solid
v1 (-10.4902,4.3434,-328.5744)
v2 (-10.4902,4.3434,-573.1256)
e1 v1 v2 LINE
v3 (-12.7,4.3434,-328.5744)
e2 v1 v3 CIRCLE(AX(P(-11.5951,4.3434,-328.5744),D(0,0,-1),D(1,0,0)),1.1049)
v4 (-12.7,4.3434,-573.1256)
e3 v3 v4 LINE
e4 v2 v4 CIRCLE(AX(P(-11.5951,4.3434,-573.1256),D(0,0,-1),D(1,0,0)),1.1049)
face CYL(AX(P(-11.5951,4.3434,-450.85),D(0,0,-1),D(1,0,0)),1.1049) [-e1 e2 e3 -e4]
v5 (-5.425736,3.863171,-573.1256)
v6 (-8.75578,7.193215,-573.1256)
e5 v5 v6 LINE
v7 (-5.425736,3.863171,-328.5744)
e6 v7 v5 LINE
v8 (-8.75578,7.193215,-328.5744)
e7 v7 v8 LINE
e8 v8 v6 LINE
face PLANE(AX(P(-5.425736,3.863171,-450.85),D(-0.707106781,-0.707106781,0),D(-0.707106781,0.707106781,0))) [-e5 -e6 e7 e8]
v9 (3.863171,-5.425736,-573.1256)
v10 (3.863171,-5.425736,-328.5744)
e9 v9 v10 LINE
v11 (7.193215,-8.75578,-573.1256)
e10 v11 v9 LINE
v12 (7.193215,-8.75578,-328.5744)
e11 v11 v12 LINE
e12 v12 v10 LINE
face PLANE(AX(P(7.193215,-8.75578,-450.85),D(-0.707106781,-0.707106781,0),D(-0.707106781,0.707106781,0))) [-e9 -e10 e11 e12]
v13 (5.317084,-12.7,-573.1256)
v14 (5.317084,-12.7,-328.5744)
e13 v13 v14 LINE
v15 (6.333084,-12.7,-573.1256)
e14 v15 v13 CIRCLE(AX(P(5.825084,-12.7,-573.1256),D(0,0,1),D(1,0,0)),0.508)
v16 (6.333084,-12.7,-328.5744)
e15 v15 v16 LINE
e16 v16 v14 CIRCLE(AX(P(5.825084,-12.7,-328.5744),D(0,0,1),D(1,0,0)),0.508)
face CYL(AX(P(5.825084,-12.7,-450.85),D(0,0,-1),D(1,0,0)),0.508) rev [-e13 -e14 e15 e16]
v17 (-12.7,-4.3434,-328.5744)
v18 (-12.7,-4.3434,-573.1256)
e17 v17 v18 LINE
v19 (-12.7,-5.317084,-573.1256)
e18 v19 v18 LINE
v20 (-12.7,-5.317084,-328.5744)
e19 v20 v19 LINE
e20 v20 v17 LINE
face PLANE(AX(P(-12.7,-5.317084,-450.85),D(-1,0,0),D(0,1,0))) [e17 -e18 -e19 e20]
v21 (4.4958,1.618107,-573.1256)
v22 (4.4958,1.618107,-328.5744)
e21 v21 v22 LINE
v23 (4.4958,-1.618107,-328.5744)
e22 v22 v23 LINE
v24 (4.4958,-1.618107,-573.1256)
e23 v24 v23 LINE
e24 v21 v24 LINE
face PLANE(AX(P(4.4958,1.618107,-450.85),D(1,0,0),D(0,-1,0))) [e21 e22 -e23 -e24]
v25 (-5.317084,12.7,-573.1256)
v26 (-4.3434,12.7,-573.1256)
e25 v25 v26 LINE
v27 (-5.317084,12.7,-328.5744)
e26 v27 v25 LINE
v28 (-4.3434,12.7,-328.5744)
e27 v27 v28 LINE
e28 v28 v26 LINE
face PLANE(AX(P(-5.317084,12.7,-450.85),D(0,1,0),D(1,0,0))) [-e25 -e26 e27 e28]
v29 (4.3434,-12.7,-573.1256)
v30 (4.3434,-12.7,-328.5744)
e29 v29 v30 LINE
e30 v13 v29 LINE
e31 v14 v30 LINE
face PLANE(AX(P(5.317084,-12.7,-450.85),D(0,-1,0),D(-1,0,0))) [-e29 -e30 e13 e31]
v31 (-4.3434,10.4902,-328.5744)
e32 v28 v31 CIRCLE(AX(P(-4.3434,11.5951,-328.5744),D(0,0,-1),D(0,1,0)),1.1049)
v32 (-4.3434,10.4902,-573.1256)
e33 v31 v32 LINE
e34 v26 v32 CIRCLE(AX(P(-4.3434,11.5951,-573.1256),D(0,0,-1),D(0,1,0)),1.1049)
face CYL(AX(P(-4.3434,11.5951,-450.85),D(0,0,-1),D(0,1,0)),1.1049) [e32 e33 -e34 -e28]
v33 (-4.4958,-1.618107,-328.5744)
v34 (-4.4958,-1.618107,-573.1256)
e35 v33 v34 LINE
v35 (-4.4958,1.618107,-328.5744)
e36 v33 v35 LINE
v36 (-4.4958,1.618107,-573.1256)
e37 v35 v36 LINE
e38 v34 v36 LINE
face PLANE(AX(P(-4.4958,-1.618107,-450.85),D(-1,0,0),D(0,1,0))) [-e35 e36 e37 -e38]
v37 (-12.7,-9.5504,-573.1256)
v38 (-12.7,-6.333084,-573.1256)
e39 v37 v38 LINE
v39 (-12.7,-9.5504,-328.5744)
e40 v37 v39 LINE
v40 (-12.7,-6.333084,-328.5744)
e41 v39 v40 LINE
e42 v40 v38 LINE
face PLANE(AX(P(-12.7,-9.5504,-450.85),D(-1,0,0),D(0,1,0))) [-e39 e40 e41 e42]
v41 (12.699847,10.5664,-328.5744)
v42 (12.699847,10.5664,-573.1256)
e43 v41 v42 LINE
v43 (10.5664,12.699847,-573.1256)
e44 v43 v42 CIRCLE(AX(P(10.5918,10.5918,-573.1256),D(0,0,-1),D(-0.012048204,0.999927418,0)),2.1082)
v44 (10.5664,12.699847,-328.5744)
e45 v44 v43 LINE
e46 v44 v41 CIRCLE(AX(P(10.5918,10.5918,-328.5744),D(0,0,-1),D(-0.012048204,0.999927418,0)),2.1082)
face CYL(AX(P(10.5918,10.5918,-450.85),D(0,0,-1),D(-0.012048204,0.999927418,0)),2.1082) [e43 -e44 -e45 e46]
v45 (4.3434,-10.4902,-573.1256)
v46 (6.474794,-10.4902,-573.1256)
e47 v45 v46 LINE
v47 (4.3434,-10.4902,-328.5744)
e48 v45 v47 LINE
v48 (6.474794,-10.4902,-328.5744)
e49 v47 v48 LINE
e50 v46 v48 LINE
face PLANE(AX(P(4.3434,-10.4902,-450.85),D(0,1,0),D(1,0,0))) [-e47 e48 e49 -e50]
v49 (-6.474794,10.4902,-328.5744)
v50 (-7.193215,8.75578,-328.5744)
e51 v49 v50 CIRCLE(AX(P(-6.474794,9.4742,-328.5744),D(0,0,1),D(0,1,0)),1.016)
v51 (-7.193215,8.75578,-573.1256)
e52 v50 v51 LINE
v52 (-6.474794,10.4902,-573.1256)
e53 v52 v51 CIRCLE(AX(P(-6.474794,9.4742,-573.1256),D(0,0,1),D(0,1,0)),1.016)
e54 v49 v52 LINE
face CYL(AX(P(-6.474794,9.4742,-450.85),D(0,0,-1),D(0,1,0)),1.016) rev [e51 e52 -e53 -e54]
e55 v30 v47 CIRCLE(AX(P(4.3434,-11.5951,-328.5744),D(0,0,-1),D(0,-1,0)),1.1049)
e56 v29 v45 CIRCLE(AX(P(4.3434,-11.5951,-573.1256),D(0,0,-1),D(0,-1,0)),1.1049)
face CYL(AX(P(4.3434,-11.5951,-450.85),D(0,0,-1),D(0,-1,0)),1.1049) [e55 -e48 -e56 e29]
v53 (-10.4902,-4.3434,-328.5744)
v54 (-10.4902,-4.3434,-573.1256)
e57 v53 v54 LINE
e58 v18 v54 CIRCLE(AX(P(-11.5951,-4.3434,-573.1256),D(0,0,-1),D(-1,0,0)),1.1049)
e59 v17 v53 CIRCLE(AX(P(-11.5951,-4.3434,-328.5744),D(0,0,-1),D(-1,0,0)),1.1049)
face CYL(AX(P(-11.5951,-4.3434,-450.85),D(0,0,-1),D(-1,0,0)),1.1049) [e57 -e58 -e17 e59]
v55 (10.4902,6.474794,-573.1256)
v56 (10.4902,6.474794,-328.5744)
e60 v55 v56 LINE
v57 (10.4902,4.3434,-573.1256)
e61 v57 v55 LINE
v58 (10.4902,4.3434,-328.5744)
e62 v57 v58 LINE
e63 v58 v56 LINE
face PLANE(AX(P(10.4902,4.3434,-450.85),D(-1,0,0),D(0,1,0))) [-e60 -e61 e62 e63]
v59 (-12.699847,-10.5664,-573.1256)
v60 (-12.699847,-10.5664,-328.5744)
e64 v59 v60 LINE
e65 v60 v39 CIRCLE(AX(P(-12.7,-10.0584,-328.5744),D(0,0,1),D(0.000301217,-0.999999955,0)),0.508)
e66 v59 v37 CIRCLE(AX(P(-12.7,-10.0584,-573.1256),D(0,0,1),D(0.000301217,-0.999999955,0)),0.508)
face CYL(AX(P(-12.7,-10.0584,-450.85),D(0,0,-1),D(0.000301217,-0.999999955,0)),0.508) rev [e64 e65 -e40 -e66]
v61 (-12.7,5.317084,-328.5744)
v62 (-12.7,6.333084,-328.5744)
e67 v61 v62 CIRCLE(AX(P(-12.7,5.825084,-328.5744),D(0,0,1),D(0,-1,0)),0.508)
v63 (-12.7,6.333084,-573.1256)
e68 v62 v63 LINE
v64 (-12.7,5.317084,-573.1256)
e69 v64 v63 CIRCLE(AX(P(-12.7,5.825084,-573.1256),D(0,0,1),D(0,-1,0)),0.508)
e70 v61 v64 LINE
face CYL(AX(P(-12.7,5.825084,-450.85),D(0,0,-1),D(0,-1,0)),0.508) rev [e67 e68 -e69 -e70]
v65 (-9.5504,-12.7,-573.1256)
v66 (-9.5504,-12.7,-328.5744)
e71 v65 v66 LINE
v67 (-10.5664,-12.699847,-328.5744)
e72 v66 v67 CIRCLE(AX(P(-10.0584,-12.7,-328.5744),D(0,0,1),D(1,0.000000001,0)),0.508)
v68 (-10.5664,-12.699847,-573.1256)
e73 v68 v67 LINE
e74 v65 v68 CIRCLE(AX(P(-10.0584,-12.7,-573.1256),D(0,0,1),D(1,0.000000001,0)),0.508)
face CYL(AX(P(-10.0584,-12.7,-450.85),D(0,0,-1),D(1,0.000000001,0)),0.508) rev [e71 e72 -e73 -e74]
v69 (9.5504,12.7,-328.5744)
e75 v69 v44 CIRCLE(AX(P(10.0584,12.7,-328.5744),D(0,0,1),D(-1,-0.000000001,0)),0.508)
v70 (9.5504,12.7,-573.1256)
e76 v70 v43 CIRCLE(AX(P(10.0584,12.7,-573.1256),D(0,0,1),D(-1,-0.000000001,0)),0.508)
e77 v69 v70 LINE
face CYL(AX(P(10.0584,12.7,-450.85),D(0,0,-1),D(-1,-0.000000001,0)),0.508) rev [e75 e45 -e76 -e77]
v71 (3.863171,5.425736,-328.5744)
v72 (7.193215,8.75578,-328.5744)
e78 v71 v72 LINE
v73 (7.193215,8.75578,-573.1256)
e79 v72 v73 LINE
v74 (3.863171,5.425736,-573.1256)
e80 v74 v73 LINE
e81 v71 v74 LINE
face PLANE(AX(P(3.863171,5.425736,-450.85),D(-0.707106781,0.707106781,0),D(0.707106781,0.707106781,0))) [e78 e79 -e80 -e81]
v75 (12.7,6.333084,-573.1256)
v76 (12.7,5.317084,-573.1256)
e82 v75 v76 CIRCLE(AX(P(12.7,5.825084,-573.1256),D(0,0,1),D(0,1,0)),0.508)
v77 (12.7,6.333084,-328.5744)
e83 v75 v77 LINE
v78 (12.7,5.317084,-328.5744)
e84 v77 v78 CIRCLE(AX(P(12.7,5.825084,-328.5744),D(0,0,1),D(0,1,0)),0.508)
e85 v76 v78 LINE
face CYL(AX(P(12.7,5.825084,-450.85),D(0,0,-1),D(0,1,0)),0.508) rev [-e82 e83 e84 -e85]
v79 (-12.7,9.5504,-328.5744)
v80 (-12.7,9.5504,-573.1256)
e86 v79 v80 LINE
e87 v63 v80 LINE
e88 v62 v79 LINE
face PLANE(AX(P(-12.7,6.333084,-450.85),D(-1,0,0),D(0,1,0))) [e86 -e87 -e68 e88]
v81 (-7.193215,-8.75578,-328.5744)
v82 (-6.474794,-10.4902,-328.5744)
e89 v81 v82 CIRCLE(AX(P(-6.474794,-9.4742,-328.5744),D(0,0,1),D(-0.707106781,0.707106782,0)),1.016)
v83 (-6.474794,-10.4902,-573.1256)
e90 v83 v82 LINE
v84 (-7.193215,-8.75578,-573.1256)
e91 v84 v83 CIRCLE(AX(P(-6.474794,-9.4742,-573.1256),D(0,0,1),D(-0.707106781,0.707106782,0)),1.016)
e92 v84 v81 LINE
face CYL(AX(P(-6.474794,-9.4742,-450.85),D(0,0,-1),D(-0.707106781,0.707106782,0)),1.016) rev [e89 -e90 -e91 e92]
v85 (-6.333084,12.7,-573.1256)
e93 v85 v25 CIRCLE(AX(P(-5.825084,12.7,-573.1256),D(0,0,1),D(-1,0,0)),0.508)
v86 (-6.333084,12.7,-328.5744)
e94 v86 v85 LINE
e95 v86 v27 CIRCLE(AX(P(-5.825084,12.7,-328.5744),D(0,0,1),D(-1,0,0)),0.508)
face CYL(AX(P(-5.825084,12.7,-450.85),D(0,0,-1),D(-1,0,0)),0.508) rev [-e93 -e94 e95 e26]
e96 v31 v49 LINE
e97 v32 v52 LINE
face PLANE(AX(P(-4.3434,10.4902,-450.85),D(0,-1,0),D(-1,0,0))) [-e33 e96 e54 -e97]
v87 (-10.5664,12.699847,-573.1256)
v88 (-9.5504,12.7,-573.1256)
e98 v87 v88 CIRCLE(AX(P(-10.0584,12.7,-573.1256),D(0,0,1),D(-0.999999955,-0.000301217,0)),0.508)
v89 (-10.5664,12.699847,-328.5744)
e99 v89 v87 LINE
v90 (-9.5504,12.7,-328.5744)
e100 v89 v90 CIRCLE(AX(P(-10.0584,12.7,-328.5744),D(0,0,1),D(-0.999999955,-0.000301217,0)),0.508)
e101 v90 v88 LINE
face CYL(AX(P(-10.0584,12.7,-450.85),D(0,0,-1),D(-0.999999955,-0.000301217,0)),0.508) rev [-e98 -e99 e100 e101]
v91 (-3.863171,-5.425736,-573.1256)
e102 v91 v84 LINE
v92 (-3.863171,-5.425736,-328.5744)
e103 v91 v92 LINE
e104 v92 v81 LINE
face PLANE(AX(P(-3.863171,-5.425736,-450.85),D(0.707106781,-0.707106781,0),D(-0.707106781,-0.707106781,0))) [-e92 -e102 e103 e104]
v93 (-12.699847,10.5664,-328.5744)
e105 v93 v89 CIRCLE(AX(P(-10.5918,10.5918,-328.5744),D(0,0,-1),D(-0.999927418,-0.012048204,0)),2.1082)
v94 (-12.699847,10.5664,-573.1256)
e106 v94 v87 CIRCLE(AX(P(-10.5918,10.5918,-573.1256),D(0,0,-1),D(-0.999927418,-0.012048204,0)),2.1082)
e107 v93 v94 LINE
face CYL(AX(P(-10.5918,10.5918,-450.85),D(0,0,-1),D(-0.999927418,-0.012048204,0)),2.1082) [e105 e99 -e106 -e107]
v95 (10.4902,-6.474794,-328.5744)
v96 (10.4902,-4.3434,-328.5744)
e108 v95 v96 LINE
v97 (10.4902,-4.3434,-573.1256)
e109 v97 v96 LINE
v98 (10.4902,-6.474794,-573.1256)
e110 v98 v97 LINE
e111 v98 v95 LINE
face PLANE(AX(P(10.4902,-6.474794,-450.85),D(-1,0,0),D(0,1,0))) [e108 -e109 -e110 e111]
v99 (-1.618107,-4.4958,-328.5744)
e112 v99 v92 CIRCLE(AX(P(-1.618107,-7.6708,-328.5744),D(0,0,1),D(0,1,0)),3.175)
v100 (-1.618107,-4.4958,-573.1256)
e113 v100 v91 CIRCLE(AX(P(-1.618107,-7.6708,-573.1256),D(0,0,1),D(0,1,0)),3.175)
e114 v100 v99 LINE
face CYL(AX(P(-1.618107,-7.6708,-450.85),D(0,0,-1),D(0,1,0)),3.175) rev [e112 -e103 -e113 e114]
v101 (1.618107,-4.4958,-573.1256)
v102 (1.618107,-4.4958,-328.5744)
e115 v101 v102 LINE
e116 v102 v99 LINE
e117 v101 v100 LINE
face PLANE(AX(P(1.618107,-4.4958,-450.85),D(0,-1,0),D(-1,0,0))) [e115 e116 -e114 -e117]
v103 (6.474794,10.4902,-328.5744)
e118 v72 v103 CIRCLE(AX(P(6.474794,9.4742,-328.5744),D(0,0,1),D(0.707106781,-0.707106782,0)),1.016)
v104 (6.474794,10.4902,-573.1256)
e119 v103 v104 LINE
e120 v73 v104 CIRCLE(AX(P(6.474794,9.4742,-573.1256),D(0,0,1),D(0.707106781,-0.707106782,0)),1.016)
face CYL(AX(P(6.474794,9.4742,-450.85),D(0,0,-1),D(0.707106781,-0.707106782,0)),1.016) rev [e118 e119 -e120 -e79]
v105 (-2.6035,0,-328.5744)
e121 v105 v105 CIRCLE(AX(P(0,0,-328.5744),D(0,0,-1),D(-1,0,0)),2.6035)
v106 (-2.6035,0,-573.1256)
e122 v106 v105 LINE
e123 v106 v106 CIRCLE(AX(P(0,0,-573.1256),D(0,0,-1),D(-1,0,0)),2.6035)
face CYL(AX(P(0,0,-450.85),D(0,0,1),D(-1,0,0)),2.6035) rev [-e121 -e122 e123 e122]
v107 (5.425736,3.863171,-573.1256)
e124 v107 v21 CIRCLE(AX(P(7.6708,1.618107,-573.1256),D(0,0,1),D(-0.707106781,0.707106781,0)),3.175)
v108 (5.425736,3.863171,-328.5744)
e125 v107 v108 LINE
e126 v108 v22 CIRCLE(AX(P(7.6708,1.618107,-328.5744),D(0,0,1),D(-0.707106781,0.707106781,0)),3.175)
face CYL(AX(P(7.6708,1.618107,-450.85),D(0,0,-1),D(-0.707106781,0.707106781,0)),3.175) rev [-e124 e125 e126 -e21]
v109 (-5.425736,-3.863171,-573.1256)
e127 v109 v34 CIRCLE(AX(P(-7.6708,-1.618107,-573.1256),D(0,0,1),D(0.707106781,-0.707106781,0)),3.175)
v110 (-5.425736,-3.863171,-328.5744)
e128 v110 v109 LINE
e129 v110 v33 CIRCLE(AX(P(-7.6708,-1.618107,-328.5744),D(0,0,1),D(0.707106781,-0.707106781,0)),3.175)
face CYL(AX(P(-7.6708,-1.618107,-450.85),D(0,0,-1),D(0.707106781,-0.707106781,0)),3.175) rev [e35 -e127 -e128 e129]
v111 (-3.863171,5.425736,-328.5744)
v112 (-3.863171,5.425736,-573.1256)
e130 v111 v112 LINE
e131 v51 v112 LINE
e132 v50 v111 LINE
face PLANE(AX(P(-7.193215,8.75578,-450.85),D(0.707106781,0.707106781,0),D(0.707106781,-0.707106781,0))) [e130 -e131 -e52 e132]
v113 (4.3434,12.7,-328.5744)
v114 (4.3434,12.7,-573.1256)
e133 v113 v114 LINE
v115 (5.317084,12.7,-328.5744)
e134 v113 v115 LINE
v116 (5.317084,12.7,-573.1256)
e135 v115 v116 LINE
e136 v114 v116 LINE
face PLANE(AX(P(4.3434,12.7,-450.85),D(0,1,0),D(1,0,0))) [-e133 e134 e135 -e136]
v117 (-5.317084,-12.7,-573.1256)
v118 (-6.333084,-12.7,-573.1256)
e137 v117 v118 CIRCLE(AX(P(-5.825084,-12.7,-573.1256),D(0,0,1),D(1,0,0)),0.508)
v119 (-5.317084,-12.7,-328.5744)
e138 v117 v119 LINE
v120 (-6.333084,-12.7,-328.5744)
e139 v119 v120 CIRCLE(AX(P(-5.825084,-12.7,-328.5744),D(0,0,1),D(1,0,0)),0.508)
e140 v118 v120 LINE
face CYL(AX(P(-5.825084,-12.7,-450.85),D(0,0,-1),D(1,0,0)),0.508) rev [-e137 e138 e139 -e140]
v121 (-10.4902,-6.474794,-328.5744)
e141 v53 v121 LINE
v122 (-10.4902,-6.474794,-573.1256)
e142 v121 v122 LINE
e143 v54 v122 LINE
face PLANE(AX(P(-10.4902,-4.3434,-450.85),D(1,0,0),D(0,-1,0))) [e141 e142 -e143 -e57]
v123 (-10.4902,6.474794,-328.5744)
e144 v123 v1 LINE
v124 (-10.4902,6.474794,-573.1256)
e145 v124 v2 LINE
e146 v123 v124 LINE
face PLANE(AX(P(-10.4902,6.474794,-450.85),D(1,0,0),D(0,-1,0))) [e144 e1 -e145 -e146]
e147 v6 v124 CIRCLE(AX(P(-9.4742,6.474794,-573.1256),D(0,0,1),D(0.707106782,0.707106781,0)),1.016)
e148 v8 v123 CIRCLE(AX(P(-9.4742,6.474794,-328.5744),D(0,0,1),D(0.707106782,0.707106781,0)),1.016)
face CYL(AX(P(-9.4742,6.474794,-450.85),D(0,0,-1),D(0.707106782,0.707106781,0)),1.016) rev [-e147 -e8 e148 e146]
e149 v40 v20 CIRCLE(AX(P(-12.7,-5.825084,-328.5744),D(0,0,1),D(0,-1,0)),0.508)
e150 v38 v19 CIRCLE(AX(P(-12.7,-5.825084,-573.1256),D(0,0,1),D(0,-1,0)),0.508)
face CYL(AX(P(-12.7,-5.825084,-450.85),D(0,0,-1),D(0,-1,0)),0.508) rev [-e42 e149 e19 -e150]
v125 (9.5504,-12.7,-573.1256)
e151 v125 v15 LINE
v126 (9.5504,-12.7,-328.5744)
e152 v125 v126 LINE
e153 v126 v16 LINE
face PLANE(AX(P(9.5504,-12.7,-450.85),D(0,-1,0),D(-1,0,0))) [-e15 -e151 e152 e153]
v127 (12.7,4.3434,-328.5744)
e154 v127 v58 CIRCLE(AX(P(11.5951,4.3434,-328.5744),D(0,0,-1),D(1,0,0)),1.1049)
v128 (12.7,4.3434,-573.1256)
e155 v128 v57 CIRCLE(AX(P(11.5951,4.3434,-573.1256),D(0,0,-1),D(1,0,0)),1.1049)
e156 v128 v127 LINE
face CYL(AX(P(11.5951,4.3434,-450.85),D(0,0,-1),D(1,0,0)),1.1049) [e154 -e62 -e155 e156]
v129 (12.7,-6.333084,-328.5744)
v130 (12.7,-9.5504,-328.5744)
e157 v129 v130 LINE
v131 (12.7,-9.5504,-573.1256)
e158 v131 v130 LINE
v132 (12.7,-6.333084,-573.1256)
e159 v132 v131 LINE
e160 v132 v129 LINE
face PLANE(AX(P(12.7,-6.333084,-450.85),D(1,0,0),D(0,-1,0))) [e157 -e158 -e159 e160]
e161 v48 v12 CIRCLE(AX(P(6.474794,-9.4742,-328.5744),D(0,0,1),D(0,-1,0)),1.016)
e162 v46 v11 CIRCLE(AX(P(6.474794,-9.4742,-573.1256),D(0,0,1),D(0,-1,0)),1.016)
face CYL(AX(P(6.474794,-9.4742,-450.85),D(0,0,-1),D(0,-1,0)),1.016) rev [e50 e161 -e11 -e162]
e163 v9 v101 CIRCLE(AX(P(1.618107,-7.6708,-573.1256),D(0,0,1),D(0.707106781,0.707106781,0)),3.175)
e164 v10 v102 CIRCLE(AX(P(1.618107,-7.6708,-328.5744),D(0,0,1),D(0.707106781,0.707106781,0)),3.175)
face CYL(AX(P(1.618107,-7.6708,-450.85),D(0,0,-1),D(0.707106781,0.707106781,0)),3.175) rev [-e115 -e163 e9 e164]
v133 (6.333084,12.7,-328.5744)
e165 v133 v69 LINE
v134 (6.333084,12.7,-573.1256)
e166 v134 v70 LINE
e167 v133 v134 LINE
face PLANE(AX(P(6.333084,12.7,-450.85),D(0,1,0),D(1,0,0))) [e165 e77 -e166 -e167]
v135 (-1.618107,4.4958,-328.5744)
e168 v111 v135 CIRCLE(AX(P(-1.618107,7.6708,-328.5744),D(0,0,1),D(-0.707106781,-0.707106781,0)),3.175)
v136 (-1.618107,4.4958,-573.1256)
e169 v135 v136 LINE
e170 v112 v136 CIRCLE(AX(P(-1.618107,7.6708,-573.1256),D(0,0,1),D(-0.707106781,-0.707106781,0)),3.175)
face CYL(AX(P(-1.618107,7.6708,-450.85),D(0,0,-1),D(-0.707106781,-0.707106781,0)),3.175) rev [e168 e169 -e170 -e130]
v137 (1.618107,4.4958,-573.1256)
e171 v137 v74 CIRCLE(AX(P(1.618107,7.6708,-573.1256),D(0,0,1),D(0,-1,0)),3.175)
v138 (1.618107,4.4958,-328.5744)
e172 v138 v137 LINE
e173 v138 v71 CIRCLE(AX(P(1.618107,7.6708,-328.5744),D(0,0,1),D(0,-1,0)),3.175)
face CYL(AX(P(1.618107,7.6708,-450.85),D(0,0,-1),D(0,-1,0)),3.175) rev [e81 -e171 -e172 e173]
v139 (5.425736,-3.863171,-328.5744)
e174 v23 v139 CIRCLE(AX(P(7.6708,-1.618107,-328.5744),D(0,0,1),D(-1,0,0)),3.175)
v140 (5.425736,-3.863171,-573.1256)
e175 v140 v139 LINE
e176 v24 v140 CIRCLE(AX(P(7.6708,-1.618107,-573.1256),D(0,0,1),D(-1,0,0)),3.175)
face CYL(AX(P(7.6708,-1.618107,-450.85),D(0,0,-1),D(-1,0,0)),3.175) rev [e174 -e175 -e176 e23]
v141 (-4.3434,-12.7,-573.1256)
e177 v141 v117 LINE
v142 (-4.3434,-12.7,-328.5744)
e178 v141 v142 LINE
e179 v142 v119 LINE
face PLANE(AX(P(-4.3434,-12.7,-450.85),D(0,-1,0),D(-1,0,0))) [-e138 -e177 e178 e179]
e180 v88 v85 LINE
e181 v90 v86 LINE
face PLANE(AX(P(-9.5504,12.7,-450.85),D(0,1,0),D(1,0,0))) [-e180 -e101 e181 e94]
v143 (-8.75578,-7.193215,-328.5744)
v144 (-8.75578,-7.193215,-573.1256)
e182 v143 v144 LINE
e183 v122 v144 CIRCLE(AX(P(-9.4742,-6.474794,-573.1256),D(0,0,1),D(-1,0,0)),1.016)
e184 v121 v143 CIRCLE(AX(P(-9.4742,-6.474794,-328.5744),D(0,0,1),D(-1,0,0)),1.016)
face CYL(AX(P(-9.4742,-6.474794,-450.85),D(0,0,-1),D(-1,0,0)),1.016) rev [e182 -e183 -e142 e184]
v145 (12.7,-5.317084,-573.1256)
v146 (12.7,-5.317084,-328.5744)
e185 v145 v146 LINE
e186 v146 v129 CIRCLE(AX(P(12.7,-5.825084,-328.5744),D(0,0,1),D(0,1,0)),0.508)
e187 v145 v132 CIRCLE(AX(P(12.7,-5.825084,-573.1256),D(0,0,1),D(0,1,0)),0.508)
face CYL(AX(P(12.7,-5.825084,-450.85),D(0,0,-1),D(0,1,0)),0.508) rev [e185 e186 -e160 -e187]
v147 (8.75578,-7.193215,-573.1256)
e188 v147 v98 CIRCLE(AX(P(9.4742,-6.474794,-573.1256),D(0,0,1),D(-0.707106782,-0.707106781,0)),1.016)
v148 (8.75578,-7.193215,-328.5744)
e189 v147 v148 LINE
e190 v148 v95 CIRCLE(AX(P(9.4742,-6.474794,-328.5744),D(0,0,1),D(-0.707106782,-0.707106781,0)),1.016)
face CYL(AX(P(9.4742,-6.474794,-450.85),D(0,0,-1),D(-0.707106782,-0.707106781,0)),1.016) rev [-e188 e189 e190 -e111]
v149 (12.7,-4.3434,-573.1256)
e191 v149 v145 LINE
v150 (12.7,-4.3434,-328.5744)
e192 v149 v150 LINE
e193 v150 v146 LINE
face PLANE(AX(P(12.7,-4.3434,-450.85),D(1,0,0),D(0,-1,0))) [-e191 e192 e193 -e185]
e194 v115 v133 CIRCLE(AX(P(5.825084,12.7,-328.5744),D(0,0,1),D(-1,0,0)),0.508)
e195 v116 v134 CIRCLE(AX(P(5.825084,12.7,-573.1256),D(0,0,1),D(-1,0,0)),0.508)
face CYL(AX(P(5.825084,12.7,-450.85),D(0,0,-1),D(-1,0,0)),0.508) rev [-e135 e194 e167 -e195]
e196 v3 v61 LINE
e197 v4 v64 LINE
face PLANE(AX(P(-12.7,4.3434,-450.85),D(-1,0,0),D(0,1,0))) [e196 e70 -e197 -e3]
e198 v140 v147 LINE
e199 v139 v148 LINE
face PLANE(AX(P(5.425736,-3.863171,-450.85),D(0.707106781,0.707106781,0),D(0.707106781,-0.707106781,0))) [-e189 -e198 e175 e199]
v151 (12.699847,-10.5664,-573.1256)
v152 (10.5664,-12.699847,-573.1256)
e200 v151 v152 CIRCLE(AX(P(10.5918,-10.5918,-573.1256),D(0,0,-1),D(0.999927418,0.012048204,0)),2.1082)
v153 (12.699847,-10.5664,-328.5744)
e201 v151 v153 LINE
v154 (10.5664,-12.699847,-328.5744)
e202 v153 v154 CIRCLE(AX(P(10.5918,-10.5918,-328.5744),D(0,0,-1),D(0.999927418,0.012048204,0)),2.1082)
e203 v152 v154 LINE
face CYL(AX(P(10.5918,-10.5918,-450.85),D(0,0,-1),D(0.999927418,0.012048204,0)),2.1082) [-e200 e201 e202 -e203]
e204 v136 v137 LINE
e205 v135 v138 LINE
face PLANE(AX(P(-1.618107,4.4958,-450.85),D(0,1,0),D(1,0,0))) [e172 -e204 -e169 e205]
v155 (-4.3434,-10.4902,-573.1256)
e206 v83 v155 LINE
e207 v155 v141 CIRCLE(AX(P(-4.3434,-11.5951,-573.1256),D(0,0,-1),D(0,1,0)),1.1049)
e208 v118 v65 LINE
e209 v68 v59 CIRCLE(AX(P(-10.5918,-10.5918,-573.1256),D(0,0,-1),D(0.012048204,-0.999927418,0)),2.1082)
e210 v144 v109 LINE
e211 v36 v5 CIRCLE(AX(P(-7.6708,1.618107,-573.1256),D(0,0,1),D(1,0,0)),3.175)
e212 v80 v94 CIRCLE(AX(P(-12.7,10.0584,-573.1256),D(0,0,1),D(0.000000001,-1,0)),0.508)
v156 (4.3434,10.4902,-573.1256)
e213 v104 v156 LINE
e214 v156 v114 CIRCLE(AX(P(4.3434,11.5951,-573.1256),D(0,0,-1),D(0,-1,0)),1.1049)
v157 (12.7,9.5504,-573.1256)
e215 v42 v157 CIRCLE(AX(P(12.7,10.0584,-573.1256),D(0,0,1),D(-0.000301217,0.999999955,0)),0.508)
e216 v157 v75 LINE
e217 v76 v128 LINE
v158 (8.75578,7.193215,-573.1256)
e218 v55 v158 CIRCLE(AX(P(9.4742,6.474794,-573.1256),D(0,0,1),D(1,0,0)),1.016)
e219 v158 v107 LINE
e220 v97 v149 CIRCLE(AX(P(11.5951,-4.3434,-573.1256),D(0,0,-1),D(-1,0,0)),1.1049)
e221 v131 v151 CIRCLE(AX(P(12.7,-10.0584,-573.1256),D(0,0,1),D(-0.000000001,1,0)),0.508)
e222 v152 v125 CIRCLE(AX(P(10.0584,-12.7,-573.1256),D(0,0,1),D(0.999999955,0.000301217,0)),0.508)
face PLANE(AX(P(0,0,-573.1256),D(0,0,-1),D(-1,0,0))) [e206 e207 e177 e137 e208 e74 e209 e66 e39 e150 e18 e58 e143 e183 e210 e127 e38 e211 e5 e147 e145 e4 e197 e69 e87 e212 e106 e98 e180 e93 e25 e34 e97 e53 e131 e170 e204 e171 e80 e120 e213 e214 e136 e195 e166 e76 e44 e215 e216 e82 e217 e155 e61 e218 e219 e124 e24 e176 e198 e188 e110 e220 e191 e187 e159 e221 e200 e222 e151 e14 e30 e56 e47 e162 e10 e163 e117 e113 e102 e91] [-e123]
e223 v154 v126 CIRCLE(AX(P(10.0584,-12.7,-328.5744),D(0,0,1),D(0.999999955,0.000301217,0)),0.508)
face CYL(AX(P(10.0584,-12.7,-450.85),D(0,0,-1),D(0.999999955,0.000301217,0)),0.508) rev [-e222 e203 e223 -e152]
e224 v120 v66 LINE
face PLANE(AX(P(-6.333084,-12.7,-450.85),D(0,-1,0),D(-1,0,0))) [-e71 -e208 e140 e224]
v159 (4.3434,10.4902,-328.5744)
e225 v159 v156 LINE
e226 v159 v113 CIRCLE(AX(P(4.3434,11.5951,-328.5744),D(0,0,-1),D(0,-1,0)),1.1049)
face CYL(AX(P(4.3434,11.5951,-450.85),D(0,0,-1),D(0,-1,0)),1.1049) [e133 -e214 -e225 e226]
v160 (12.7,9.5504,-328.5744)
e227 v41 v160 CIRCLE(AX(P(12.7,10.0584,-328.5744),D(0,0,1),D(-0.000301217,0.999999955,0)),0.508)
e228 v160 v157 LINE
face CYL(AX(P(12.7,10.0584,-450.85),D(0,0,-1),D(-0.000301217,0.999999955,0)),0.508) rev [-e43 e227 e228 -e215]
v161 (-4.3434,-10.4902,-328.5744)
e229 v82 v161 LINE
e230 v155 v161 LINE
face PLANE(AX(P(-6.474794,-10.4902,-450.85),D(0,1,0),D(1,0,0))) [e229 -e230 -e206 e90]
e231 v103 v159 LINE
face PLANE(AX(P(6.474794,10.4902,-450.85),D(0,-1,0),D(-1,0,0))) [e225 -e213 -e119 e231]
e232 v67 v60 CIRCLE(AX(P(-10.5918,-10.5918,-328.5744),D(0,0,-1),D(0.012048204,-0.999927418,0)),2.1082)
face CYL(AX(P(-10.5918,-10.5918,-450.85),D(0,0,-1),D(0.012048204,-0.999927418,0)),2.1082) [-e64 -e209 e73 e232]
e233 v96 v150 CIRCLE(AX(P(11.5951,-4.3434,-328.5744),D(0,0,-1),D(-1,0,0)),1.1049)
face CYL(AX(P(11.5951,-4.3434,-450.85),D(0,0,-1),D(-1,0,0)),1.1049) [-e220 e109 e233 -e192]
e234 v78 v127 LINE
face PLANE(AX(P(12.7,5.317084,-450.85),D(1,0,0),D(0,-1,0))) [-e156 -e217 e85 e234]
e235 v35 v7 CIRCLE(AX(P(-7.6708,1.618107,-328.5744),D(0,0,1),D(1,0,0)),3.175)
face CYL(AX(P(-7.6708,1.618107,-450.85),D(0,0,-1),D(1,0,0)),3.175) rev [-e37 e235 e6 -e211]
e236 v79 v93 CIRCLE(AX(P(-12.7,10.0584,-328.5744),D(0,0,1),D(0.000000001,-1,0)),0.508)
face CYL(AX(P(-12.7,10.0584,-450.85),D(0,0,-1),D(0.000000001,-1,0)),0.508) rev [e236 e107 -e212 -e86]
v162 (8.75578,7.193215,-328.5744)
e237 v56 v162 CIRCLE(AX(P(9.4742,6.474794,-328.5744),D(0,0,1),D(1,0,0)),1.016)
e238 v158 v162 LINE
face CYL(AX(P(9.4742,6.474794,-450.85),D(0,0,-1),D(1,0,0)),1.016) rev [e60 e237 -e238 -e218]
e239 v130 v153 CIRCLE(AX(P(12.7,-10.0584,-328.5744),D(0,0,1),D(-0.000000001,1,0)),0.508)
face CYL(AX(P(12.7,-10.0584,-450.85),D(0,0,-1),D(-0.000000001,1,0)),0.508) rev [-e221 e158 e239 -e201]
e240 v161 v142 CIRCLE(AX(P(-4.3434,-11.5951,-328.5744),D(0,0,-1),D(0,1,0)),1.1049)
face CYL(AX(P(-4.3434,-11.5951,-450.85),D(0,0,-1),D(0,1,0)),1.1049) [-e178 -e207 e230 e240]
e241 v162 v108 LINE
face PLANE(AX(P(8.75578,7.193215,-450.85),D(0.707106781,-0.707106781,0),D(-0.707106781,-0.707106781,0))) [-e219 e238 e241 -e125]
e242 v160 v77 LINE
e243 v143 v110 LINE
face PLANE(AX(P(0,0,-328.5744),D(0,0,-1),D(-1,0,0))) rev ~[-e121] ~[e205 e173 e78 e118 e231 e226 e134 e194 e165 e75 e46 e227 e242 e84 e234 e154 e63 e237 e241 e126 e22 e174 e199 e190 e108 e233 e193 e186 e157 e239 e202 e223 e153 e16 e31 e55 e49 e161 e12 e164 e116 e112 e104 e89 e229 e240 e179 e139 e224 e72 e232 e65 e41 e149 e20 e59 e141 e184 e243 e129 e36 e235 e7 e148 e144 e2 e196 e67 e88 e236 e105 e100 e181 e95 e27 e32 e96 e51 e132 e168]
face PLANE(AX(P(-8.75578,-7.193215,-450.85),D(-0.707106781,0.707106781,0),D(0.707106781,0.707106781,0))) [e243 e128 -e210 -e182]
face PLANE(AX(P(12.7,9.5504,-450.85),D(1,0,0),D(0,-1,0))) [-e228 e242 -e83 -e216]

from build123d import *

# Parameters (mm, degrees)
SKETCH1_R           = 2.6035
BOSS_EXTRUDE1_DEPTH = 122.2756


with BuildPart() as part:
    # Sketch1 → Boss-Extrude1 (new body, symmetric)
    with BuildSketch(Plane(origin=(0, 0, -450.85), x_dir=(-1, 0, 0), z_dir=(0, 0, -1))):
        with BuildLine():
            Line((12.7, -9.5504), (12.7, -6.3330836))
            ThreePointArc((12.7, -6.3330836), (12.192, -5.8250836), (12.7, -5.3170836))
            Line((12.7, -5.3170836), (12.7, -4.3434))
            ThreePointArc((12.7, -4.3434), (11.5951, -3.2385), (10.4902, -4.3434))
            Line((10.4902, -4.3434), (10.4902, -6.474794456))
            ThreePointArc((10.4902, -6.474794456), (9.863006367, -7.413456061), (8.75577951, -7.193214945))
            Line((8.75577951, -7.193214945), (5.42573597, -3.863171405))
            ThreePointArc((5.42573597, -3.863171405), (4.737482484, -2.833127272), (4.4958, -1.618107374))
            Line((4.4958, -1.618107374), (4.4958, 1.618107374))
            ThreePointArc((4.4958, 1.618107374), (4.737482484, 2.833127272), (5.42573597, 3.863171405))
            Line((5.42573597, 3.863171405), (8.75577951, 7.193214945))
            ThreePointArc((8.75577951, 7.193214945), (9.863006367, 7.413456061), (10.4902, 6.474794456))
            Line((10.4902, 6.474794456), (10.4902, 4.343399971))
            ThreePointArc((10.4902, 4.343399971), (11.5951, 3.238499971), (12.7, 4.343399971))
            Line((12.7, 4.343399971), (12.7, 5.3170836))
            ThreePointArc((12.7, 5.3170836), (12.192, 5.8250836), (12.7, 6.3330836))
            Line((12.7, 6.3330836), (12.7, 9.5504))
            ThreePointArc((12.7, 9.5504), (12.192000006, 10.058323491), (12.699846982, 10.566399977))
            ThreePointArc((12.699846982, 10.566399977), (12.082522516, 12.082522516), (10.566399977, 12.699846982))
            ThreePointArc((10.566399977, 12.699846982), (10.058323491, 12.192000006), (9.5504, 12.7))
            Line((9.5504, 12.7), (6.3330836, 12.7))
            ThreePointArc((6.3330836, 12.7), (5.8250836, 12.192), (5.3170836, 12.7))
            Line((5.3170836, 12.7), (4.3434, 12.7))
            ThreePointArc((4.3434, 12.7), (3.2385, 11.5951), (4.3434, 10.4902))
            Line((4.3434, 10.4902), (6.474794456, 10.4902))
            ThreePointArc((6.474794456, 10.4902), (7.413456061, 9.863006367), (7.193214945, 8.75577951))
            Line((7.193214945, 8.75577951), (3.863171405, 5.42573597))
            ThreePointArc((3.863171405, 5.42573597), (2.833127272, 4.737482484), (1.618107374, 4.4958))
            Line((1.618107374, 4.4958), (-1.618107374, 4.4958))
            ThreePointArc((-1.618107374, 4.4958), (-2.833127272, 4.737482484), (-3.863171405, 5.42573597))
            Line((-3.863171405, 5.42573597), (-7.193214945, 8.75577951))
            ThreePointArc((-7.193214945, 8.75577951), (-7.413456061, 9.863006367), (-6.474794456, 10.4902))
            Line((-6.474794456, 10.4902), (-4.343399971, 10.4902))
            ThreePointArc((-4.343399971, 10.4902), (-3.238499971, 11.5951), (-4.343399971, 12.7))
            Line((-4.343399971, 12.7), (-5.3170836, 12.7))
            ThreePointArc((-5.3170836, 12.7), (-5.8250836, 12.192), (-6.3330836, 12.7))
            Line((-6.3330836, 12.7), (-9.5504, 12.7))
            ThreePointArc((-9.5504, 12.7), (-10.058323491, 12.192000006), (-10.566399977, 12.699846982))
            ThreePointArc((-10.566399977, 12.699846982), (-12.082522516, 12.082522516), (-12.699846982, 10.566399977))
            ThreePointArc((-12.699846982, 10.566399977), (-12.192000006, 10.058323491), (-12.7, 9.5504))
            Line((-12.7, 9.5504), (-12.7, 6.3330836))
            ThreePointArc((-12.7, 6.3330836), (-12.192, 5.8250836), (-12.7, 5.3170836))
            Line((-12.7, 5.3170836), (-12.7, 4.3434))
            ThreePointArc((-12.7, 4.3434), (-11.5951, 3.2385), (-10.4902, 4.3434))
            Line((-10.4902, 4.3434), (-10.4902, 6.474794456))
            ThreePointArc((-10.4902, 6.474794456), (-9.863006367, 7.413456061), (-8.75577951, 7.193214945))
            Line((-8.75577951, 7.193214945), (-5.42573597, 3.863171405))
            ThreePointArc((-5.42573597, 3.863171405), (-4.737482484, 2.833127272), (-4.4958, 1.618107374))
            Line((-4.4958, 1.618107374), (-4.4958, -1.618107374))
            ThreePointArc((-4.4958, -1.618107374), (-4.737482484, -2.833127272), (-5.42573597, -3.863171405))
            Line((-5.42573597, -3.863171405), (-8.75577951, -7.193214945))
            ThreePointArc((-8.75577951, -7.193214945), (-9.863006367, -7.413456061), (-10.4902, -6.474794456))
            Line((-10.4902, -6.474794456), (-10.4902, -4.343399971))
            ThreePointArc((-10.4902, -4.343399971), (-11.5951, -3.238499971), (-12.7, -4.343399971))
            Line((-12.7, -4.343399971), (-12.7, -5.3170836))
            ThreePointArc((-12.7, -5.3170836), (-12.192, -5.8250836), (-12.7, -6.3330836))
            Line((-12.7, -6.3330836), (-12.7, -9.5504))
            ThreePointArc((-12.7, -9.5504), (-12.192000006, -10.058323491), (-12.699846982, -10.566399977))
            ThreePointArc((-12.699846982, -10.566399977), (-12.082522516, -12.082522516), (-10.566399977, -12.699846982))
            ThreePointArc((-10.566399977, -12.699846982), (-10.058323491, -12.192000006), (-9.5504, -12.7))
            Line((-9.5504, -12.7), (-6.3330836, -12.7))
            ThreePointArc((-6.3330836, -12.7), (-5.8250836, -12.192), (-5.3170836, -12.7))
            Line((-5.3170836, -12.7), (-4.3434, -12.7))
            ThreePointArc((-4.3434, -12.7), (-3.2385, -11.5951), (-4.3434, -10.4902))
            Line((-4.3434, -10.4902), (-6.474794456, -10.4902))
            ThreePointArc((-6.474794456, -10.4902), (-7.413456061, -9.863006367), (-7.193214945, -8.75577951))
            Line((-7.193214945, -8.75577951), (-3.863171405, -5.42573597))
            ThreePointArc((-3.863171405, -5.42573597), (-2.833127272, -4.737482484), (-1.618107374, -4.4958))
            Line((-1.618107374, -4.4958), (1.618107374, -4.4958))
            ThreePointArc((1.618107374, -4.4958), (2.833127272, -4.737482484), (3.863171405, -5.42573597))
            Line((3.863171405, -5.42573597), (7.193214945, -8.75577951))
            ThreePointArc((7.193214945, -8.75577951), (7.413456061, -9.863006367), (6.474794456, -10.4902))
            Line((6.474794456, -10.4902), (4.343399971, -10.4902))
            ThreePointArc((4.343399971, -10.4902), (3.238499971, -11.5951), (4.343399971, -12.7))
            Line((4.343399971, -12.7), (5.3170836, -12.7))
            ThreePointArc((5.3170836, -12.7), (5.8250836, -12.192), (6.3330836, -12.7))
            Line((6.3330836, -12.7), (9.5504, -12.7))
            ThreePointArc((9.5504, -12.7), (10.058323491, -12.192000006), (10.566399977, -12.699846982))
            ThreePointArc((10.566399977, -12.699846982), (12.082522516, -12.082522516), (12.699846982, -10.566399977))
            ThreePointArc((12.699846982, -10.566399977), (12.192000006, -10.058323491), (12.7, -9.5504))
        make_face()
        Circle(SKETCH1_R, mode=Mode.SUBTRACT)
    extrude(amount=BOSS_EXTRUDE1_DEPTH, both=True)


solid = part.part
